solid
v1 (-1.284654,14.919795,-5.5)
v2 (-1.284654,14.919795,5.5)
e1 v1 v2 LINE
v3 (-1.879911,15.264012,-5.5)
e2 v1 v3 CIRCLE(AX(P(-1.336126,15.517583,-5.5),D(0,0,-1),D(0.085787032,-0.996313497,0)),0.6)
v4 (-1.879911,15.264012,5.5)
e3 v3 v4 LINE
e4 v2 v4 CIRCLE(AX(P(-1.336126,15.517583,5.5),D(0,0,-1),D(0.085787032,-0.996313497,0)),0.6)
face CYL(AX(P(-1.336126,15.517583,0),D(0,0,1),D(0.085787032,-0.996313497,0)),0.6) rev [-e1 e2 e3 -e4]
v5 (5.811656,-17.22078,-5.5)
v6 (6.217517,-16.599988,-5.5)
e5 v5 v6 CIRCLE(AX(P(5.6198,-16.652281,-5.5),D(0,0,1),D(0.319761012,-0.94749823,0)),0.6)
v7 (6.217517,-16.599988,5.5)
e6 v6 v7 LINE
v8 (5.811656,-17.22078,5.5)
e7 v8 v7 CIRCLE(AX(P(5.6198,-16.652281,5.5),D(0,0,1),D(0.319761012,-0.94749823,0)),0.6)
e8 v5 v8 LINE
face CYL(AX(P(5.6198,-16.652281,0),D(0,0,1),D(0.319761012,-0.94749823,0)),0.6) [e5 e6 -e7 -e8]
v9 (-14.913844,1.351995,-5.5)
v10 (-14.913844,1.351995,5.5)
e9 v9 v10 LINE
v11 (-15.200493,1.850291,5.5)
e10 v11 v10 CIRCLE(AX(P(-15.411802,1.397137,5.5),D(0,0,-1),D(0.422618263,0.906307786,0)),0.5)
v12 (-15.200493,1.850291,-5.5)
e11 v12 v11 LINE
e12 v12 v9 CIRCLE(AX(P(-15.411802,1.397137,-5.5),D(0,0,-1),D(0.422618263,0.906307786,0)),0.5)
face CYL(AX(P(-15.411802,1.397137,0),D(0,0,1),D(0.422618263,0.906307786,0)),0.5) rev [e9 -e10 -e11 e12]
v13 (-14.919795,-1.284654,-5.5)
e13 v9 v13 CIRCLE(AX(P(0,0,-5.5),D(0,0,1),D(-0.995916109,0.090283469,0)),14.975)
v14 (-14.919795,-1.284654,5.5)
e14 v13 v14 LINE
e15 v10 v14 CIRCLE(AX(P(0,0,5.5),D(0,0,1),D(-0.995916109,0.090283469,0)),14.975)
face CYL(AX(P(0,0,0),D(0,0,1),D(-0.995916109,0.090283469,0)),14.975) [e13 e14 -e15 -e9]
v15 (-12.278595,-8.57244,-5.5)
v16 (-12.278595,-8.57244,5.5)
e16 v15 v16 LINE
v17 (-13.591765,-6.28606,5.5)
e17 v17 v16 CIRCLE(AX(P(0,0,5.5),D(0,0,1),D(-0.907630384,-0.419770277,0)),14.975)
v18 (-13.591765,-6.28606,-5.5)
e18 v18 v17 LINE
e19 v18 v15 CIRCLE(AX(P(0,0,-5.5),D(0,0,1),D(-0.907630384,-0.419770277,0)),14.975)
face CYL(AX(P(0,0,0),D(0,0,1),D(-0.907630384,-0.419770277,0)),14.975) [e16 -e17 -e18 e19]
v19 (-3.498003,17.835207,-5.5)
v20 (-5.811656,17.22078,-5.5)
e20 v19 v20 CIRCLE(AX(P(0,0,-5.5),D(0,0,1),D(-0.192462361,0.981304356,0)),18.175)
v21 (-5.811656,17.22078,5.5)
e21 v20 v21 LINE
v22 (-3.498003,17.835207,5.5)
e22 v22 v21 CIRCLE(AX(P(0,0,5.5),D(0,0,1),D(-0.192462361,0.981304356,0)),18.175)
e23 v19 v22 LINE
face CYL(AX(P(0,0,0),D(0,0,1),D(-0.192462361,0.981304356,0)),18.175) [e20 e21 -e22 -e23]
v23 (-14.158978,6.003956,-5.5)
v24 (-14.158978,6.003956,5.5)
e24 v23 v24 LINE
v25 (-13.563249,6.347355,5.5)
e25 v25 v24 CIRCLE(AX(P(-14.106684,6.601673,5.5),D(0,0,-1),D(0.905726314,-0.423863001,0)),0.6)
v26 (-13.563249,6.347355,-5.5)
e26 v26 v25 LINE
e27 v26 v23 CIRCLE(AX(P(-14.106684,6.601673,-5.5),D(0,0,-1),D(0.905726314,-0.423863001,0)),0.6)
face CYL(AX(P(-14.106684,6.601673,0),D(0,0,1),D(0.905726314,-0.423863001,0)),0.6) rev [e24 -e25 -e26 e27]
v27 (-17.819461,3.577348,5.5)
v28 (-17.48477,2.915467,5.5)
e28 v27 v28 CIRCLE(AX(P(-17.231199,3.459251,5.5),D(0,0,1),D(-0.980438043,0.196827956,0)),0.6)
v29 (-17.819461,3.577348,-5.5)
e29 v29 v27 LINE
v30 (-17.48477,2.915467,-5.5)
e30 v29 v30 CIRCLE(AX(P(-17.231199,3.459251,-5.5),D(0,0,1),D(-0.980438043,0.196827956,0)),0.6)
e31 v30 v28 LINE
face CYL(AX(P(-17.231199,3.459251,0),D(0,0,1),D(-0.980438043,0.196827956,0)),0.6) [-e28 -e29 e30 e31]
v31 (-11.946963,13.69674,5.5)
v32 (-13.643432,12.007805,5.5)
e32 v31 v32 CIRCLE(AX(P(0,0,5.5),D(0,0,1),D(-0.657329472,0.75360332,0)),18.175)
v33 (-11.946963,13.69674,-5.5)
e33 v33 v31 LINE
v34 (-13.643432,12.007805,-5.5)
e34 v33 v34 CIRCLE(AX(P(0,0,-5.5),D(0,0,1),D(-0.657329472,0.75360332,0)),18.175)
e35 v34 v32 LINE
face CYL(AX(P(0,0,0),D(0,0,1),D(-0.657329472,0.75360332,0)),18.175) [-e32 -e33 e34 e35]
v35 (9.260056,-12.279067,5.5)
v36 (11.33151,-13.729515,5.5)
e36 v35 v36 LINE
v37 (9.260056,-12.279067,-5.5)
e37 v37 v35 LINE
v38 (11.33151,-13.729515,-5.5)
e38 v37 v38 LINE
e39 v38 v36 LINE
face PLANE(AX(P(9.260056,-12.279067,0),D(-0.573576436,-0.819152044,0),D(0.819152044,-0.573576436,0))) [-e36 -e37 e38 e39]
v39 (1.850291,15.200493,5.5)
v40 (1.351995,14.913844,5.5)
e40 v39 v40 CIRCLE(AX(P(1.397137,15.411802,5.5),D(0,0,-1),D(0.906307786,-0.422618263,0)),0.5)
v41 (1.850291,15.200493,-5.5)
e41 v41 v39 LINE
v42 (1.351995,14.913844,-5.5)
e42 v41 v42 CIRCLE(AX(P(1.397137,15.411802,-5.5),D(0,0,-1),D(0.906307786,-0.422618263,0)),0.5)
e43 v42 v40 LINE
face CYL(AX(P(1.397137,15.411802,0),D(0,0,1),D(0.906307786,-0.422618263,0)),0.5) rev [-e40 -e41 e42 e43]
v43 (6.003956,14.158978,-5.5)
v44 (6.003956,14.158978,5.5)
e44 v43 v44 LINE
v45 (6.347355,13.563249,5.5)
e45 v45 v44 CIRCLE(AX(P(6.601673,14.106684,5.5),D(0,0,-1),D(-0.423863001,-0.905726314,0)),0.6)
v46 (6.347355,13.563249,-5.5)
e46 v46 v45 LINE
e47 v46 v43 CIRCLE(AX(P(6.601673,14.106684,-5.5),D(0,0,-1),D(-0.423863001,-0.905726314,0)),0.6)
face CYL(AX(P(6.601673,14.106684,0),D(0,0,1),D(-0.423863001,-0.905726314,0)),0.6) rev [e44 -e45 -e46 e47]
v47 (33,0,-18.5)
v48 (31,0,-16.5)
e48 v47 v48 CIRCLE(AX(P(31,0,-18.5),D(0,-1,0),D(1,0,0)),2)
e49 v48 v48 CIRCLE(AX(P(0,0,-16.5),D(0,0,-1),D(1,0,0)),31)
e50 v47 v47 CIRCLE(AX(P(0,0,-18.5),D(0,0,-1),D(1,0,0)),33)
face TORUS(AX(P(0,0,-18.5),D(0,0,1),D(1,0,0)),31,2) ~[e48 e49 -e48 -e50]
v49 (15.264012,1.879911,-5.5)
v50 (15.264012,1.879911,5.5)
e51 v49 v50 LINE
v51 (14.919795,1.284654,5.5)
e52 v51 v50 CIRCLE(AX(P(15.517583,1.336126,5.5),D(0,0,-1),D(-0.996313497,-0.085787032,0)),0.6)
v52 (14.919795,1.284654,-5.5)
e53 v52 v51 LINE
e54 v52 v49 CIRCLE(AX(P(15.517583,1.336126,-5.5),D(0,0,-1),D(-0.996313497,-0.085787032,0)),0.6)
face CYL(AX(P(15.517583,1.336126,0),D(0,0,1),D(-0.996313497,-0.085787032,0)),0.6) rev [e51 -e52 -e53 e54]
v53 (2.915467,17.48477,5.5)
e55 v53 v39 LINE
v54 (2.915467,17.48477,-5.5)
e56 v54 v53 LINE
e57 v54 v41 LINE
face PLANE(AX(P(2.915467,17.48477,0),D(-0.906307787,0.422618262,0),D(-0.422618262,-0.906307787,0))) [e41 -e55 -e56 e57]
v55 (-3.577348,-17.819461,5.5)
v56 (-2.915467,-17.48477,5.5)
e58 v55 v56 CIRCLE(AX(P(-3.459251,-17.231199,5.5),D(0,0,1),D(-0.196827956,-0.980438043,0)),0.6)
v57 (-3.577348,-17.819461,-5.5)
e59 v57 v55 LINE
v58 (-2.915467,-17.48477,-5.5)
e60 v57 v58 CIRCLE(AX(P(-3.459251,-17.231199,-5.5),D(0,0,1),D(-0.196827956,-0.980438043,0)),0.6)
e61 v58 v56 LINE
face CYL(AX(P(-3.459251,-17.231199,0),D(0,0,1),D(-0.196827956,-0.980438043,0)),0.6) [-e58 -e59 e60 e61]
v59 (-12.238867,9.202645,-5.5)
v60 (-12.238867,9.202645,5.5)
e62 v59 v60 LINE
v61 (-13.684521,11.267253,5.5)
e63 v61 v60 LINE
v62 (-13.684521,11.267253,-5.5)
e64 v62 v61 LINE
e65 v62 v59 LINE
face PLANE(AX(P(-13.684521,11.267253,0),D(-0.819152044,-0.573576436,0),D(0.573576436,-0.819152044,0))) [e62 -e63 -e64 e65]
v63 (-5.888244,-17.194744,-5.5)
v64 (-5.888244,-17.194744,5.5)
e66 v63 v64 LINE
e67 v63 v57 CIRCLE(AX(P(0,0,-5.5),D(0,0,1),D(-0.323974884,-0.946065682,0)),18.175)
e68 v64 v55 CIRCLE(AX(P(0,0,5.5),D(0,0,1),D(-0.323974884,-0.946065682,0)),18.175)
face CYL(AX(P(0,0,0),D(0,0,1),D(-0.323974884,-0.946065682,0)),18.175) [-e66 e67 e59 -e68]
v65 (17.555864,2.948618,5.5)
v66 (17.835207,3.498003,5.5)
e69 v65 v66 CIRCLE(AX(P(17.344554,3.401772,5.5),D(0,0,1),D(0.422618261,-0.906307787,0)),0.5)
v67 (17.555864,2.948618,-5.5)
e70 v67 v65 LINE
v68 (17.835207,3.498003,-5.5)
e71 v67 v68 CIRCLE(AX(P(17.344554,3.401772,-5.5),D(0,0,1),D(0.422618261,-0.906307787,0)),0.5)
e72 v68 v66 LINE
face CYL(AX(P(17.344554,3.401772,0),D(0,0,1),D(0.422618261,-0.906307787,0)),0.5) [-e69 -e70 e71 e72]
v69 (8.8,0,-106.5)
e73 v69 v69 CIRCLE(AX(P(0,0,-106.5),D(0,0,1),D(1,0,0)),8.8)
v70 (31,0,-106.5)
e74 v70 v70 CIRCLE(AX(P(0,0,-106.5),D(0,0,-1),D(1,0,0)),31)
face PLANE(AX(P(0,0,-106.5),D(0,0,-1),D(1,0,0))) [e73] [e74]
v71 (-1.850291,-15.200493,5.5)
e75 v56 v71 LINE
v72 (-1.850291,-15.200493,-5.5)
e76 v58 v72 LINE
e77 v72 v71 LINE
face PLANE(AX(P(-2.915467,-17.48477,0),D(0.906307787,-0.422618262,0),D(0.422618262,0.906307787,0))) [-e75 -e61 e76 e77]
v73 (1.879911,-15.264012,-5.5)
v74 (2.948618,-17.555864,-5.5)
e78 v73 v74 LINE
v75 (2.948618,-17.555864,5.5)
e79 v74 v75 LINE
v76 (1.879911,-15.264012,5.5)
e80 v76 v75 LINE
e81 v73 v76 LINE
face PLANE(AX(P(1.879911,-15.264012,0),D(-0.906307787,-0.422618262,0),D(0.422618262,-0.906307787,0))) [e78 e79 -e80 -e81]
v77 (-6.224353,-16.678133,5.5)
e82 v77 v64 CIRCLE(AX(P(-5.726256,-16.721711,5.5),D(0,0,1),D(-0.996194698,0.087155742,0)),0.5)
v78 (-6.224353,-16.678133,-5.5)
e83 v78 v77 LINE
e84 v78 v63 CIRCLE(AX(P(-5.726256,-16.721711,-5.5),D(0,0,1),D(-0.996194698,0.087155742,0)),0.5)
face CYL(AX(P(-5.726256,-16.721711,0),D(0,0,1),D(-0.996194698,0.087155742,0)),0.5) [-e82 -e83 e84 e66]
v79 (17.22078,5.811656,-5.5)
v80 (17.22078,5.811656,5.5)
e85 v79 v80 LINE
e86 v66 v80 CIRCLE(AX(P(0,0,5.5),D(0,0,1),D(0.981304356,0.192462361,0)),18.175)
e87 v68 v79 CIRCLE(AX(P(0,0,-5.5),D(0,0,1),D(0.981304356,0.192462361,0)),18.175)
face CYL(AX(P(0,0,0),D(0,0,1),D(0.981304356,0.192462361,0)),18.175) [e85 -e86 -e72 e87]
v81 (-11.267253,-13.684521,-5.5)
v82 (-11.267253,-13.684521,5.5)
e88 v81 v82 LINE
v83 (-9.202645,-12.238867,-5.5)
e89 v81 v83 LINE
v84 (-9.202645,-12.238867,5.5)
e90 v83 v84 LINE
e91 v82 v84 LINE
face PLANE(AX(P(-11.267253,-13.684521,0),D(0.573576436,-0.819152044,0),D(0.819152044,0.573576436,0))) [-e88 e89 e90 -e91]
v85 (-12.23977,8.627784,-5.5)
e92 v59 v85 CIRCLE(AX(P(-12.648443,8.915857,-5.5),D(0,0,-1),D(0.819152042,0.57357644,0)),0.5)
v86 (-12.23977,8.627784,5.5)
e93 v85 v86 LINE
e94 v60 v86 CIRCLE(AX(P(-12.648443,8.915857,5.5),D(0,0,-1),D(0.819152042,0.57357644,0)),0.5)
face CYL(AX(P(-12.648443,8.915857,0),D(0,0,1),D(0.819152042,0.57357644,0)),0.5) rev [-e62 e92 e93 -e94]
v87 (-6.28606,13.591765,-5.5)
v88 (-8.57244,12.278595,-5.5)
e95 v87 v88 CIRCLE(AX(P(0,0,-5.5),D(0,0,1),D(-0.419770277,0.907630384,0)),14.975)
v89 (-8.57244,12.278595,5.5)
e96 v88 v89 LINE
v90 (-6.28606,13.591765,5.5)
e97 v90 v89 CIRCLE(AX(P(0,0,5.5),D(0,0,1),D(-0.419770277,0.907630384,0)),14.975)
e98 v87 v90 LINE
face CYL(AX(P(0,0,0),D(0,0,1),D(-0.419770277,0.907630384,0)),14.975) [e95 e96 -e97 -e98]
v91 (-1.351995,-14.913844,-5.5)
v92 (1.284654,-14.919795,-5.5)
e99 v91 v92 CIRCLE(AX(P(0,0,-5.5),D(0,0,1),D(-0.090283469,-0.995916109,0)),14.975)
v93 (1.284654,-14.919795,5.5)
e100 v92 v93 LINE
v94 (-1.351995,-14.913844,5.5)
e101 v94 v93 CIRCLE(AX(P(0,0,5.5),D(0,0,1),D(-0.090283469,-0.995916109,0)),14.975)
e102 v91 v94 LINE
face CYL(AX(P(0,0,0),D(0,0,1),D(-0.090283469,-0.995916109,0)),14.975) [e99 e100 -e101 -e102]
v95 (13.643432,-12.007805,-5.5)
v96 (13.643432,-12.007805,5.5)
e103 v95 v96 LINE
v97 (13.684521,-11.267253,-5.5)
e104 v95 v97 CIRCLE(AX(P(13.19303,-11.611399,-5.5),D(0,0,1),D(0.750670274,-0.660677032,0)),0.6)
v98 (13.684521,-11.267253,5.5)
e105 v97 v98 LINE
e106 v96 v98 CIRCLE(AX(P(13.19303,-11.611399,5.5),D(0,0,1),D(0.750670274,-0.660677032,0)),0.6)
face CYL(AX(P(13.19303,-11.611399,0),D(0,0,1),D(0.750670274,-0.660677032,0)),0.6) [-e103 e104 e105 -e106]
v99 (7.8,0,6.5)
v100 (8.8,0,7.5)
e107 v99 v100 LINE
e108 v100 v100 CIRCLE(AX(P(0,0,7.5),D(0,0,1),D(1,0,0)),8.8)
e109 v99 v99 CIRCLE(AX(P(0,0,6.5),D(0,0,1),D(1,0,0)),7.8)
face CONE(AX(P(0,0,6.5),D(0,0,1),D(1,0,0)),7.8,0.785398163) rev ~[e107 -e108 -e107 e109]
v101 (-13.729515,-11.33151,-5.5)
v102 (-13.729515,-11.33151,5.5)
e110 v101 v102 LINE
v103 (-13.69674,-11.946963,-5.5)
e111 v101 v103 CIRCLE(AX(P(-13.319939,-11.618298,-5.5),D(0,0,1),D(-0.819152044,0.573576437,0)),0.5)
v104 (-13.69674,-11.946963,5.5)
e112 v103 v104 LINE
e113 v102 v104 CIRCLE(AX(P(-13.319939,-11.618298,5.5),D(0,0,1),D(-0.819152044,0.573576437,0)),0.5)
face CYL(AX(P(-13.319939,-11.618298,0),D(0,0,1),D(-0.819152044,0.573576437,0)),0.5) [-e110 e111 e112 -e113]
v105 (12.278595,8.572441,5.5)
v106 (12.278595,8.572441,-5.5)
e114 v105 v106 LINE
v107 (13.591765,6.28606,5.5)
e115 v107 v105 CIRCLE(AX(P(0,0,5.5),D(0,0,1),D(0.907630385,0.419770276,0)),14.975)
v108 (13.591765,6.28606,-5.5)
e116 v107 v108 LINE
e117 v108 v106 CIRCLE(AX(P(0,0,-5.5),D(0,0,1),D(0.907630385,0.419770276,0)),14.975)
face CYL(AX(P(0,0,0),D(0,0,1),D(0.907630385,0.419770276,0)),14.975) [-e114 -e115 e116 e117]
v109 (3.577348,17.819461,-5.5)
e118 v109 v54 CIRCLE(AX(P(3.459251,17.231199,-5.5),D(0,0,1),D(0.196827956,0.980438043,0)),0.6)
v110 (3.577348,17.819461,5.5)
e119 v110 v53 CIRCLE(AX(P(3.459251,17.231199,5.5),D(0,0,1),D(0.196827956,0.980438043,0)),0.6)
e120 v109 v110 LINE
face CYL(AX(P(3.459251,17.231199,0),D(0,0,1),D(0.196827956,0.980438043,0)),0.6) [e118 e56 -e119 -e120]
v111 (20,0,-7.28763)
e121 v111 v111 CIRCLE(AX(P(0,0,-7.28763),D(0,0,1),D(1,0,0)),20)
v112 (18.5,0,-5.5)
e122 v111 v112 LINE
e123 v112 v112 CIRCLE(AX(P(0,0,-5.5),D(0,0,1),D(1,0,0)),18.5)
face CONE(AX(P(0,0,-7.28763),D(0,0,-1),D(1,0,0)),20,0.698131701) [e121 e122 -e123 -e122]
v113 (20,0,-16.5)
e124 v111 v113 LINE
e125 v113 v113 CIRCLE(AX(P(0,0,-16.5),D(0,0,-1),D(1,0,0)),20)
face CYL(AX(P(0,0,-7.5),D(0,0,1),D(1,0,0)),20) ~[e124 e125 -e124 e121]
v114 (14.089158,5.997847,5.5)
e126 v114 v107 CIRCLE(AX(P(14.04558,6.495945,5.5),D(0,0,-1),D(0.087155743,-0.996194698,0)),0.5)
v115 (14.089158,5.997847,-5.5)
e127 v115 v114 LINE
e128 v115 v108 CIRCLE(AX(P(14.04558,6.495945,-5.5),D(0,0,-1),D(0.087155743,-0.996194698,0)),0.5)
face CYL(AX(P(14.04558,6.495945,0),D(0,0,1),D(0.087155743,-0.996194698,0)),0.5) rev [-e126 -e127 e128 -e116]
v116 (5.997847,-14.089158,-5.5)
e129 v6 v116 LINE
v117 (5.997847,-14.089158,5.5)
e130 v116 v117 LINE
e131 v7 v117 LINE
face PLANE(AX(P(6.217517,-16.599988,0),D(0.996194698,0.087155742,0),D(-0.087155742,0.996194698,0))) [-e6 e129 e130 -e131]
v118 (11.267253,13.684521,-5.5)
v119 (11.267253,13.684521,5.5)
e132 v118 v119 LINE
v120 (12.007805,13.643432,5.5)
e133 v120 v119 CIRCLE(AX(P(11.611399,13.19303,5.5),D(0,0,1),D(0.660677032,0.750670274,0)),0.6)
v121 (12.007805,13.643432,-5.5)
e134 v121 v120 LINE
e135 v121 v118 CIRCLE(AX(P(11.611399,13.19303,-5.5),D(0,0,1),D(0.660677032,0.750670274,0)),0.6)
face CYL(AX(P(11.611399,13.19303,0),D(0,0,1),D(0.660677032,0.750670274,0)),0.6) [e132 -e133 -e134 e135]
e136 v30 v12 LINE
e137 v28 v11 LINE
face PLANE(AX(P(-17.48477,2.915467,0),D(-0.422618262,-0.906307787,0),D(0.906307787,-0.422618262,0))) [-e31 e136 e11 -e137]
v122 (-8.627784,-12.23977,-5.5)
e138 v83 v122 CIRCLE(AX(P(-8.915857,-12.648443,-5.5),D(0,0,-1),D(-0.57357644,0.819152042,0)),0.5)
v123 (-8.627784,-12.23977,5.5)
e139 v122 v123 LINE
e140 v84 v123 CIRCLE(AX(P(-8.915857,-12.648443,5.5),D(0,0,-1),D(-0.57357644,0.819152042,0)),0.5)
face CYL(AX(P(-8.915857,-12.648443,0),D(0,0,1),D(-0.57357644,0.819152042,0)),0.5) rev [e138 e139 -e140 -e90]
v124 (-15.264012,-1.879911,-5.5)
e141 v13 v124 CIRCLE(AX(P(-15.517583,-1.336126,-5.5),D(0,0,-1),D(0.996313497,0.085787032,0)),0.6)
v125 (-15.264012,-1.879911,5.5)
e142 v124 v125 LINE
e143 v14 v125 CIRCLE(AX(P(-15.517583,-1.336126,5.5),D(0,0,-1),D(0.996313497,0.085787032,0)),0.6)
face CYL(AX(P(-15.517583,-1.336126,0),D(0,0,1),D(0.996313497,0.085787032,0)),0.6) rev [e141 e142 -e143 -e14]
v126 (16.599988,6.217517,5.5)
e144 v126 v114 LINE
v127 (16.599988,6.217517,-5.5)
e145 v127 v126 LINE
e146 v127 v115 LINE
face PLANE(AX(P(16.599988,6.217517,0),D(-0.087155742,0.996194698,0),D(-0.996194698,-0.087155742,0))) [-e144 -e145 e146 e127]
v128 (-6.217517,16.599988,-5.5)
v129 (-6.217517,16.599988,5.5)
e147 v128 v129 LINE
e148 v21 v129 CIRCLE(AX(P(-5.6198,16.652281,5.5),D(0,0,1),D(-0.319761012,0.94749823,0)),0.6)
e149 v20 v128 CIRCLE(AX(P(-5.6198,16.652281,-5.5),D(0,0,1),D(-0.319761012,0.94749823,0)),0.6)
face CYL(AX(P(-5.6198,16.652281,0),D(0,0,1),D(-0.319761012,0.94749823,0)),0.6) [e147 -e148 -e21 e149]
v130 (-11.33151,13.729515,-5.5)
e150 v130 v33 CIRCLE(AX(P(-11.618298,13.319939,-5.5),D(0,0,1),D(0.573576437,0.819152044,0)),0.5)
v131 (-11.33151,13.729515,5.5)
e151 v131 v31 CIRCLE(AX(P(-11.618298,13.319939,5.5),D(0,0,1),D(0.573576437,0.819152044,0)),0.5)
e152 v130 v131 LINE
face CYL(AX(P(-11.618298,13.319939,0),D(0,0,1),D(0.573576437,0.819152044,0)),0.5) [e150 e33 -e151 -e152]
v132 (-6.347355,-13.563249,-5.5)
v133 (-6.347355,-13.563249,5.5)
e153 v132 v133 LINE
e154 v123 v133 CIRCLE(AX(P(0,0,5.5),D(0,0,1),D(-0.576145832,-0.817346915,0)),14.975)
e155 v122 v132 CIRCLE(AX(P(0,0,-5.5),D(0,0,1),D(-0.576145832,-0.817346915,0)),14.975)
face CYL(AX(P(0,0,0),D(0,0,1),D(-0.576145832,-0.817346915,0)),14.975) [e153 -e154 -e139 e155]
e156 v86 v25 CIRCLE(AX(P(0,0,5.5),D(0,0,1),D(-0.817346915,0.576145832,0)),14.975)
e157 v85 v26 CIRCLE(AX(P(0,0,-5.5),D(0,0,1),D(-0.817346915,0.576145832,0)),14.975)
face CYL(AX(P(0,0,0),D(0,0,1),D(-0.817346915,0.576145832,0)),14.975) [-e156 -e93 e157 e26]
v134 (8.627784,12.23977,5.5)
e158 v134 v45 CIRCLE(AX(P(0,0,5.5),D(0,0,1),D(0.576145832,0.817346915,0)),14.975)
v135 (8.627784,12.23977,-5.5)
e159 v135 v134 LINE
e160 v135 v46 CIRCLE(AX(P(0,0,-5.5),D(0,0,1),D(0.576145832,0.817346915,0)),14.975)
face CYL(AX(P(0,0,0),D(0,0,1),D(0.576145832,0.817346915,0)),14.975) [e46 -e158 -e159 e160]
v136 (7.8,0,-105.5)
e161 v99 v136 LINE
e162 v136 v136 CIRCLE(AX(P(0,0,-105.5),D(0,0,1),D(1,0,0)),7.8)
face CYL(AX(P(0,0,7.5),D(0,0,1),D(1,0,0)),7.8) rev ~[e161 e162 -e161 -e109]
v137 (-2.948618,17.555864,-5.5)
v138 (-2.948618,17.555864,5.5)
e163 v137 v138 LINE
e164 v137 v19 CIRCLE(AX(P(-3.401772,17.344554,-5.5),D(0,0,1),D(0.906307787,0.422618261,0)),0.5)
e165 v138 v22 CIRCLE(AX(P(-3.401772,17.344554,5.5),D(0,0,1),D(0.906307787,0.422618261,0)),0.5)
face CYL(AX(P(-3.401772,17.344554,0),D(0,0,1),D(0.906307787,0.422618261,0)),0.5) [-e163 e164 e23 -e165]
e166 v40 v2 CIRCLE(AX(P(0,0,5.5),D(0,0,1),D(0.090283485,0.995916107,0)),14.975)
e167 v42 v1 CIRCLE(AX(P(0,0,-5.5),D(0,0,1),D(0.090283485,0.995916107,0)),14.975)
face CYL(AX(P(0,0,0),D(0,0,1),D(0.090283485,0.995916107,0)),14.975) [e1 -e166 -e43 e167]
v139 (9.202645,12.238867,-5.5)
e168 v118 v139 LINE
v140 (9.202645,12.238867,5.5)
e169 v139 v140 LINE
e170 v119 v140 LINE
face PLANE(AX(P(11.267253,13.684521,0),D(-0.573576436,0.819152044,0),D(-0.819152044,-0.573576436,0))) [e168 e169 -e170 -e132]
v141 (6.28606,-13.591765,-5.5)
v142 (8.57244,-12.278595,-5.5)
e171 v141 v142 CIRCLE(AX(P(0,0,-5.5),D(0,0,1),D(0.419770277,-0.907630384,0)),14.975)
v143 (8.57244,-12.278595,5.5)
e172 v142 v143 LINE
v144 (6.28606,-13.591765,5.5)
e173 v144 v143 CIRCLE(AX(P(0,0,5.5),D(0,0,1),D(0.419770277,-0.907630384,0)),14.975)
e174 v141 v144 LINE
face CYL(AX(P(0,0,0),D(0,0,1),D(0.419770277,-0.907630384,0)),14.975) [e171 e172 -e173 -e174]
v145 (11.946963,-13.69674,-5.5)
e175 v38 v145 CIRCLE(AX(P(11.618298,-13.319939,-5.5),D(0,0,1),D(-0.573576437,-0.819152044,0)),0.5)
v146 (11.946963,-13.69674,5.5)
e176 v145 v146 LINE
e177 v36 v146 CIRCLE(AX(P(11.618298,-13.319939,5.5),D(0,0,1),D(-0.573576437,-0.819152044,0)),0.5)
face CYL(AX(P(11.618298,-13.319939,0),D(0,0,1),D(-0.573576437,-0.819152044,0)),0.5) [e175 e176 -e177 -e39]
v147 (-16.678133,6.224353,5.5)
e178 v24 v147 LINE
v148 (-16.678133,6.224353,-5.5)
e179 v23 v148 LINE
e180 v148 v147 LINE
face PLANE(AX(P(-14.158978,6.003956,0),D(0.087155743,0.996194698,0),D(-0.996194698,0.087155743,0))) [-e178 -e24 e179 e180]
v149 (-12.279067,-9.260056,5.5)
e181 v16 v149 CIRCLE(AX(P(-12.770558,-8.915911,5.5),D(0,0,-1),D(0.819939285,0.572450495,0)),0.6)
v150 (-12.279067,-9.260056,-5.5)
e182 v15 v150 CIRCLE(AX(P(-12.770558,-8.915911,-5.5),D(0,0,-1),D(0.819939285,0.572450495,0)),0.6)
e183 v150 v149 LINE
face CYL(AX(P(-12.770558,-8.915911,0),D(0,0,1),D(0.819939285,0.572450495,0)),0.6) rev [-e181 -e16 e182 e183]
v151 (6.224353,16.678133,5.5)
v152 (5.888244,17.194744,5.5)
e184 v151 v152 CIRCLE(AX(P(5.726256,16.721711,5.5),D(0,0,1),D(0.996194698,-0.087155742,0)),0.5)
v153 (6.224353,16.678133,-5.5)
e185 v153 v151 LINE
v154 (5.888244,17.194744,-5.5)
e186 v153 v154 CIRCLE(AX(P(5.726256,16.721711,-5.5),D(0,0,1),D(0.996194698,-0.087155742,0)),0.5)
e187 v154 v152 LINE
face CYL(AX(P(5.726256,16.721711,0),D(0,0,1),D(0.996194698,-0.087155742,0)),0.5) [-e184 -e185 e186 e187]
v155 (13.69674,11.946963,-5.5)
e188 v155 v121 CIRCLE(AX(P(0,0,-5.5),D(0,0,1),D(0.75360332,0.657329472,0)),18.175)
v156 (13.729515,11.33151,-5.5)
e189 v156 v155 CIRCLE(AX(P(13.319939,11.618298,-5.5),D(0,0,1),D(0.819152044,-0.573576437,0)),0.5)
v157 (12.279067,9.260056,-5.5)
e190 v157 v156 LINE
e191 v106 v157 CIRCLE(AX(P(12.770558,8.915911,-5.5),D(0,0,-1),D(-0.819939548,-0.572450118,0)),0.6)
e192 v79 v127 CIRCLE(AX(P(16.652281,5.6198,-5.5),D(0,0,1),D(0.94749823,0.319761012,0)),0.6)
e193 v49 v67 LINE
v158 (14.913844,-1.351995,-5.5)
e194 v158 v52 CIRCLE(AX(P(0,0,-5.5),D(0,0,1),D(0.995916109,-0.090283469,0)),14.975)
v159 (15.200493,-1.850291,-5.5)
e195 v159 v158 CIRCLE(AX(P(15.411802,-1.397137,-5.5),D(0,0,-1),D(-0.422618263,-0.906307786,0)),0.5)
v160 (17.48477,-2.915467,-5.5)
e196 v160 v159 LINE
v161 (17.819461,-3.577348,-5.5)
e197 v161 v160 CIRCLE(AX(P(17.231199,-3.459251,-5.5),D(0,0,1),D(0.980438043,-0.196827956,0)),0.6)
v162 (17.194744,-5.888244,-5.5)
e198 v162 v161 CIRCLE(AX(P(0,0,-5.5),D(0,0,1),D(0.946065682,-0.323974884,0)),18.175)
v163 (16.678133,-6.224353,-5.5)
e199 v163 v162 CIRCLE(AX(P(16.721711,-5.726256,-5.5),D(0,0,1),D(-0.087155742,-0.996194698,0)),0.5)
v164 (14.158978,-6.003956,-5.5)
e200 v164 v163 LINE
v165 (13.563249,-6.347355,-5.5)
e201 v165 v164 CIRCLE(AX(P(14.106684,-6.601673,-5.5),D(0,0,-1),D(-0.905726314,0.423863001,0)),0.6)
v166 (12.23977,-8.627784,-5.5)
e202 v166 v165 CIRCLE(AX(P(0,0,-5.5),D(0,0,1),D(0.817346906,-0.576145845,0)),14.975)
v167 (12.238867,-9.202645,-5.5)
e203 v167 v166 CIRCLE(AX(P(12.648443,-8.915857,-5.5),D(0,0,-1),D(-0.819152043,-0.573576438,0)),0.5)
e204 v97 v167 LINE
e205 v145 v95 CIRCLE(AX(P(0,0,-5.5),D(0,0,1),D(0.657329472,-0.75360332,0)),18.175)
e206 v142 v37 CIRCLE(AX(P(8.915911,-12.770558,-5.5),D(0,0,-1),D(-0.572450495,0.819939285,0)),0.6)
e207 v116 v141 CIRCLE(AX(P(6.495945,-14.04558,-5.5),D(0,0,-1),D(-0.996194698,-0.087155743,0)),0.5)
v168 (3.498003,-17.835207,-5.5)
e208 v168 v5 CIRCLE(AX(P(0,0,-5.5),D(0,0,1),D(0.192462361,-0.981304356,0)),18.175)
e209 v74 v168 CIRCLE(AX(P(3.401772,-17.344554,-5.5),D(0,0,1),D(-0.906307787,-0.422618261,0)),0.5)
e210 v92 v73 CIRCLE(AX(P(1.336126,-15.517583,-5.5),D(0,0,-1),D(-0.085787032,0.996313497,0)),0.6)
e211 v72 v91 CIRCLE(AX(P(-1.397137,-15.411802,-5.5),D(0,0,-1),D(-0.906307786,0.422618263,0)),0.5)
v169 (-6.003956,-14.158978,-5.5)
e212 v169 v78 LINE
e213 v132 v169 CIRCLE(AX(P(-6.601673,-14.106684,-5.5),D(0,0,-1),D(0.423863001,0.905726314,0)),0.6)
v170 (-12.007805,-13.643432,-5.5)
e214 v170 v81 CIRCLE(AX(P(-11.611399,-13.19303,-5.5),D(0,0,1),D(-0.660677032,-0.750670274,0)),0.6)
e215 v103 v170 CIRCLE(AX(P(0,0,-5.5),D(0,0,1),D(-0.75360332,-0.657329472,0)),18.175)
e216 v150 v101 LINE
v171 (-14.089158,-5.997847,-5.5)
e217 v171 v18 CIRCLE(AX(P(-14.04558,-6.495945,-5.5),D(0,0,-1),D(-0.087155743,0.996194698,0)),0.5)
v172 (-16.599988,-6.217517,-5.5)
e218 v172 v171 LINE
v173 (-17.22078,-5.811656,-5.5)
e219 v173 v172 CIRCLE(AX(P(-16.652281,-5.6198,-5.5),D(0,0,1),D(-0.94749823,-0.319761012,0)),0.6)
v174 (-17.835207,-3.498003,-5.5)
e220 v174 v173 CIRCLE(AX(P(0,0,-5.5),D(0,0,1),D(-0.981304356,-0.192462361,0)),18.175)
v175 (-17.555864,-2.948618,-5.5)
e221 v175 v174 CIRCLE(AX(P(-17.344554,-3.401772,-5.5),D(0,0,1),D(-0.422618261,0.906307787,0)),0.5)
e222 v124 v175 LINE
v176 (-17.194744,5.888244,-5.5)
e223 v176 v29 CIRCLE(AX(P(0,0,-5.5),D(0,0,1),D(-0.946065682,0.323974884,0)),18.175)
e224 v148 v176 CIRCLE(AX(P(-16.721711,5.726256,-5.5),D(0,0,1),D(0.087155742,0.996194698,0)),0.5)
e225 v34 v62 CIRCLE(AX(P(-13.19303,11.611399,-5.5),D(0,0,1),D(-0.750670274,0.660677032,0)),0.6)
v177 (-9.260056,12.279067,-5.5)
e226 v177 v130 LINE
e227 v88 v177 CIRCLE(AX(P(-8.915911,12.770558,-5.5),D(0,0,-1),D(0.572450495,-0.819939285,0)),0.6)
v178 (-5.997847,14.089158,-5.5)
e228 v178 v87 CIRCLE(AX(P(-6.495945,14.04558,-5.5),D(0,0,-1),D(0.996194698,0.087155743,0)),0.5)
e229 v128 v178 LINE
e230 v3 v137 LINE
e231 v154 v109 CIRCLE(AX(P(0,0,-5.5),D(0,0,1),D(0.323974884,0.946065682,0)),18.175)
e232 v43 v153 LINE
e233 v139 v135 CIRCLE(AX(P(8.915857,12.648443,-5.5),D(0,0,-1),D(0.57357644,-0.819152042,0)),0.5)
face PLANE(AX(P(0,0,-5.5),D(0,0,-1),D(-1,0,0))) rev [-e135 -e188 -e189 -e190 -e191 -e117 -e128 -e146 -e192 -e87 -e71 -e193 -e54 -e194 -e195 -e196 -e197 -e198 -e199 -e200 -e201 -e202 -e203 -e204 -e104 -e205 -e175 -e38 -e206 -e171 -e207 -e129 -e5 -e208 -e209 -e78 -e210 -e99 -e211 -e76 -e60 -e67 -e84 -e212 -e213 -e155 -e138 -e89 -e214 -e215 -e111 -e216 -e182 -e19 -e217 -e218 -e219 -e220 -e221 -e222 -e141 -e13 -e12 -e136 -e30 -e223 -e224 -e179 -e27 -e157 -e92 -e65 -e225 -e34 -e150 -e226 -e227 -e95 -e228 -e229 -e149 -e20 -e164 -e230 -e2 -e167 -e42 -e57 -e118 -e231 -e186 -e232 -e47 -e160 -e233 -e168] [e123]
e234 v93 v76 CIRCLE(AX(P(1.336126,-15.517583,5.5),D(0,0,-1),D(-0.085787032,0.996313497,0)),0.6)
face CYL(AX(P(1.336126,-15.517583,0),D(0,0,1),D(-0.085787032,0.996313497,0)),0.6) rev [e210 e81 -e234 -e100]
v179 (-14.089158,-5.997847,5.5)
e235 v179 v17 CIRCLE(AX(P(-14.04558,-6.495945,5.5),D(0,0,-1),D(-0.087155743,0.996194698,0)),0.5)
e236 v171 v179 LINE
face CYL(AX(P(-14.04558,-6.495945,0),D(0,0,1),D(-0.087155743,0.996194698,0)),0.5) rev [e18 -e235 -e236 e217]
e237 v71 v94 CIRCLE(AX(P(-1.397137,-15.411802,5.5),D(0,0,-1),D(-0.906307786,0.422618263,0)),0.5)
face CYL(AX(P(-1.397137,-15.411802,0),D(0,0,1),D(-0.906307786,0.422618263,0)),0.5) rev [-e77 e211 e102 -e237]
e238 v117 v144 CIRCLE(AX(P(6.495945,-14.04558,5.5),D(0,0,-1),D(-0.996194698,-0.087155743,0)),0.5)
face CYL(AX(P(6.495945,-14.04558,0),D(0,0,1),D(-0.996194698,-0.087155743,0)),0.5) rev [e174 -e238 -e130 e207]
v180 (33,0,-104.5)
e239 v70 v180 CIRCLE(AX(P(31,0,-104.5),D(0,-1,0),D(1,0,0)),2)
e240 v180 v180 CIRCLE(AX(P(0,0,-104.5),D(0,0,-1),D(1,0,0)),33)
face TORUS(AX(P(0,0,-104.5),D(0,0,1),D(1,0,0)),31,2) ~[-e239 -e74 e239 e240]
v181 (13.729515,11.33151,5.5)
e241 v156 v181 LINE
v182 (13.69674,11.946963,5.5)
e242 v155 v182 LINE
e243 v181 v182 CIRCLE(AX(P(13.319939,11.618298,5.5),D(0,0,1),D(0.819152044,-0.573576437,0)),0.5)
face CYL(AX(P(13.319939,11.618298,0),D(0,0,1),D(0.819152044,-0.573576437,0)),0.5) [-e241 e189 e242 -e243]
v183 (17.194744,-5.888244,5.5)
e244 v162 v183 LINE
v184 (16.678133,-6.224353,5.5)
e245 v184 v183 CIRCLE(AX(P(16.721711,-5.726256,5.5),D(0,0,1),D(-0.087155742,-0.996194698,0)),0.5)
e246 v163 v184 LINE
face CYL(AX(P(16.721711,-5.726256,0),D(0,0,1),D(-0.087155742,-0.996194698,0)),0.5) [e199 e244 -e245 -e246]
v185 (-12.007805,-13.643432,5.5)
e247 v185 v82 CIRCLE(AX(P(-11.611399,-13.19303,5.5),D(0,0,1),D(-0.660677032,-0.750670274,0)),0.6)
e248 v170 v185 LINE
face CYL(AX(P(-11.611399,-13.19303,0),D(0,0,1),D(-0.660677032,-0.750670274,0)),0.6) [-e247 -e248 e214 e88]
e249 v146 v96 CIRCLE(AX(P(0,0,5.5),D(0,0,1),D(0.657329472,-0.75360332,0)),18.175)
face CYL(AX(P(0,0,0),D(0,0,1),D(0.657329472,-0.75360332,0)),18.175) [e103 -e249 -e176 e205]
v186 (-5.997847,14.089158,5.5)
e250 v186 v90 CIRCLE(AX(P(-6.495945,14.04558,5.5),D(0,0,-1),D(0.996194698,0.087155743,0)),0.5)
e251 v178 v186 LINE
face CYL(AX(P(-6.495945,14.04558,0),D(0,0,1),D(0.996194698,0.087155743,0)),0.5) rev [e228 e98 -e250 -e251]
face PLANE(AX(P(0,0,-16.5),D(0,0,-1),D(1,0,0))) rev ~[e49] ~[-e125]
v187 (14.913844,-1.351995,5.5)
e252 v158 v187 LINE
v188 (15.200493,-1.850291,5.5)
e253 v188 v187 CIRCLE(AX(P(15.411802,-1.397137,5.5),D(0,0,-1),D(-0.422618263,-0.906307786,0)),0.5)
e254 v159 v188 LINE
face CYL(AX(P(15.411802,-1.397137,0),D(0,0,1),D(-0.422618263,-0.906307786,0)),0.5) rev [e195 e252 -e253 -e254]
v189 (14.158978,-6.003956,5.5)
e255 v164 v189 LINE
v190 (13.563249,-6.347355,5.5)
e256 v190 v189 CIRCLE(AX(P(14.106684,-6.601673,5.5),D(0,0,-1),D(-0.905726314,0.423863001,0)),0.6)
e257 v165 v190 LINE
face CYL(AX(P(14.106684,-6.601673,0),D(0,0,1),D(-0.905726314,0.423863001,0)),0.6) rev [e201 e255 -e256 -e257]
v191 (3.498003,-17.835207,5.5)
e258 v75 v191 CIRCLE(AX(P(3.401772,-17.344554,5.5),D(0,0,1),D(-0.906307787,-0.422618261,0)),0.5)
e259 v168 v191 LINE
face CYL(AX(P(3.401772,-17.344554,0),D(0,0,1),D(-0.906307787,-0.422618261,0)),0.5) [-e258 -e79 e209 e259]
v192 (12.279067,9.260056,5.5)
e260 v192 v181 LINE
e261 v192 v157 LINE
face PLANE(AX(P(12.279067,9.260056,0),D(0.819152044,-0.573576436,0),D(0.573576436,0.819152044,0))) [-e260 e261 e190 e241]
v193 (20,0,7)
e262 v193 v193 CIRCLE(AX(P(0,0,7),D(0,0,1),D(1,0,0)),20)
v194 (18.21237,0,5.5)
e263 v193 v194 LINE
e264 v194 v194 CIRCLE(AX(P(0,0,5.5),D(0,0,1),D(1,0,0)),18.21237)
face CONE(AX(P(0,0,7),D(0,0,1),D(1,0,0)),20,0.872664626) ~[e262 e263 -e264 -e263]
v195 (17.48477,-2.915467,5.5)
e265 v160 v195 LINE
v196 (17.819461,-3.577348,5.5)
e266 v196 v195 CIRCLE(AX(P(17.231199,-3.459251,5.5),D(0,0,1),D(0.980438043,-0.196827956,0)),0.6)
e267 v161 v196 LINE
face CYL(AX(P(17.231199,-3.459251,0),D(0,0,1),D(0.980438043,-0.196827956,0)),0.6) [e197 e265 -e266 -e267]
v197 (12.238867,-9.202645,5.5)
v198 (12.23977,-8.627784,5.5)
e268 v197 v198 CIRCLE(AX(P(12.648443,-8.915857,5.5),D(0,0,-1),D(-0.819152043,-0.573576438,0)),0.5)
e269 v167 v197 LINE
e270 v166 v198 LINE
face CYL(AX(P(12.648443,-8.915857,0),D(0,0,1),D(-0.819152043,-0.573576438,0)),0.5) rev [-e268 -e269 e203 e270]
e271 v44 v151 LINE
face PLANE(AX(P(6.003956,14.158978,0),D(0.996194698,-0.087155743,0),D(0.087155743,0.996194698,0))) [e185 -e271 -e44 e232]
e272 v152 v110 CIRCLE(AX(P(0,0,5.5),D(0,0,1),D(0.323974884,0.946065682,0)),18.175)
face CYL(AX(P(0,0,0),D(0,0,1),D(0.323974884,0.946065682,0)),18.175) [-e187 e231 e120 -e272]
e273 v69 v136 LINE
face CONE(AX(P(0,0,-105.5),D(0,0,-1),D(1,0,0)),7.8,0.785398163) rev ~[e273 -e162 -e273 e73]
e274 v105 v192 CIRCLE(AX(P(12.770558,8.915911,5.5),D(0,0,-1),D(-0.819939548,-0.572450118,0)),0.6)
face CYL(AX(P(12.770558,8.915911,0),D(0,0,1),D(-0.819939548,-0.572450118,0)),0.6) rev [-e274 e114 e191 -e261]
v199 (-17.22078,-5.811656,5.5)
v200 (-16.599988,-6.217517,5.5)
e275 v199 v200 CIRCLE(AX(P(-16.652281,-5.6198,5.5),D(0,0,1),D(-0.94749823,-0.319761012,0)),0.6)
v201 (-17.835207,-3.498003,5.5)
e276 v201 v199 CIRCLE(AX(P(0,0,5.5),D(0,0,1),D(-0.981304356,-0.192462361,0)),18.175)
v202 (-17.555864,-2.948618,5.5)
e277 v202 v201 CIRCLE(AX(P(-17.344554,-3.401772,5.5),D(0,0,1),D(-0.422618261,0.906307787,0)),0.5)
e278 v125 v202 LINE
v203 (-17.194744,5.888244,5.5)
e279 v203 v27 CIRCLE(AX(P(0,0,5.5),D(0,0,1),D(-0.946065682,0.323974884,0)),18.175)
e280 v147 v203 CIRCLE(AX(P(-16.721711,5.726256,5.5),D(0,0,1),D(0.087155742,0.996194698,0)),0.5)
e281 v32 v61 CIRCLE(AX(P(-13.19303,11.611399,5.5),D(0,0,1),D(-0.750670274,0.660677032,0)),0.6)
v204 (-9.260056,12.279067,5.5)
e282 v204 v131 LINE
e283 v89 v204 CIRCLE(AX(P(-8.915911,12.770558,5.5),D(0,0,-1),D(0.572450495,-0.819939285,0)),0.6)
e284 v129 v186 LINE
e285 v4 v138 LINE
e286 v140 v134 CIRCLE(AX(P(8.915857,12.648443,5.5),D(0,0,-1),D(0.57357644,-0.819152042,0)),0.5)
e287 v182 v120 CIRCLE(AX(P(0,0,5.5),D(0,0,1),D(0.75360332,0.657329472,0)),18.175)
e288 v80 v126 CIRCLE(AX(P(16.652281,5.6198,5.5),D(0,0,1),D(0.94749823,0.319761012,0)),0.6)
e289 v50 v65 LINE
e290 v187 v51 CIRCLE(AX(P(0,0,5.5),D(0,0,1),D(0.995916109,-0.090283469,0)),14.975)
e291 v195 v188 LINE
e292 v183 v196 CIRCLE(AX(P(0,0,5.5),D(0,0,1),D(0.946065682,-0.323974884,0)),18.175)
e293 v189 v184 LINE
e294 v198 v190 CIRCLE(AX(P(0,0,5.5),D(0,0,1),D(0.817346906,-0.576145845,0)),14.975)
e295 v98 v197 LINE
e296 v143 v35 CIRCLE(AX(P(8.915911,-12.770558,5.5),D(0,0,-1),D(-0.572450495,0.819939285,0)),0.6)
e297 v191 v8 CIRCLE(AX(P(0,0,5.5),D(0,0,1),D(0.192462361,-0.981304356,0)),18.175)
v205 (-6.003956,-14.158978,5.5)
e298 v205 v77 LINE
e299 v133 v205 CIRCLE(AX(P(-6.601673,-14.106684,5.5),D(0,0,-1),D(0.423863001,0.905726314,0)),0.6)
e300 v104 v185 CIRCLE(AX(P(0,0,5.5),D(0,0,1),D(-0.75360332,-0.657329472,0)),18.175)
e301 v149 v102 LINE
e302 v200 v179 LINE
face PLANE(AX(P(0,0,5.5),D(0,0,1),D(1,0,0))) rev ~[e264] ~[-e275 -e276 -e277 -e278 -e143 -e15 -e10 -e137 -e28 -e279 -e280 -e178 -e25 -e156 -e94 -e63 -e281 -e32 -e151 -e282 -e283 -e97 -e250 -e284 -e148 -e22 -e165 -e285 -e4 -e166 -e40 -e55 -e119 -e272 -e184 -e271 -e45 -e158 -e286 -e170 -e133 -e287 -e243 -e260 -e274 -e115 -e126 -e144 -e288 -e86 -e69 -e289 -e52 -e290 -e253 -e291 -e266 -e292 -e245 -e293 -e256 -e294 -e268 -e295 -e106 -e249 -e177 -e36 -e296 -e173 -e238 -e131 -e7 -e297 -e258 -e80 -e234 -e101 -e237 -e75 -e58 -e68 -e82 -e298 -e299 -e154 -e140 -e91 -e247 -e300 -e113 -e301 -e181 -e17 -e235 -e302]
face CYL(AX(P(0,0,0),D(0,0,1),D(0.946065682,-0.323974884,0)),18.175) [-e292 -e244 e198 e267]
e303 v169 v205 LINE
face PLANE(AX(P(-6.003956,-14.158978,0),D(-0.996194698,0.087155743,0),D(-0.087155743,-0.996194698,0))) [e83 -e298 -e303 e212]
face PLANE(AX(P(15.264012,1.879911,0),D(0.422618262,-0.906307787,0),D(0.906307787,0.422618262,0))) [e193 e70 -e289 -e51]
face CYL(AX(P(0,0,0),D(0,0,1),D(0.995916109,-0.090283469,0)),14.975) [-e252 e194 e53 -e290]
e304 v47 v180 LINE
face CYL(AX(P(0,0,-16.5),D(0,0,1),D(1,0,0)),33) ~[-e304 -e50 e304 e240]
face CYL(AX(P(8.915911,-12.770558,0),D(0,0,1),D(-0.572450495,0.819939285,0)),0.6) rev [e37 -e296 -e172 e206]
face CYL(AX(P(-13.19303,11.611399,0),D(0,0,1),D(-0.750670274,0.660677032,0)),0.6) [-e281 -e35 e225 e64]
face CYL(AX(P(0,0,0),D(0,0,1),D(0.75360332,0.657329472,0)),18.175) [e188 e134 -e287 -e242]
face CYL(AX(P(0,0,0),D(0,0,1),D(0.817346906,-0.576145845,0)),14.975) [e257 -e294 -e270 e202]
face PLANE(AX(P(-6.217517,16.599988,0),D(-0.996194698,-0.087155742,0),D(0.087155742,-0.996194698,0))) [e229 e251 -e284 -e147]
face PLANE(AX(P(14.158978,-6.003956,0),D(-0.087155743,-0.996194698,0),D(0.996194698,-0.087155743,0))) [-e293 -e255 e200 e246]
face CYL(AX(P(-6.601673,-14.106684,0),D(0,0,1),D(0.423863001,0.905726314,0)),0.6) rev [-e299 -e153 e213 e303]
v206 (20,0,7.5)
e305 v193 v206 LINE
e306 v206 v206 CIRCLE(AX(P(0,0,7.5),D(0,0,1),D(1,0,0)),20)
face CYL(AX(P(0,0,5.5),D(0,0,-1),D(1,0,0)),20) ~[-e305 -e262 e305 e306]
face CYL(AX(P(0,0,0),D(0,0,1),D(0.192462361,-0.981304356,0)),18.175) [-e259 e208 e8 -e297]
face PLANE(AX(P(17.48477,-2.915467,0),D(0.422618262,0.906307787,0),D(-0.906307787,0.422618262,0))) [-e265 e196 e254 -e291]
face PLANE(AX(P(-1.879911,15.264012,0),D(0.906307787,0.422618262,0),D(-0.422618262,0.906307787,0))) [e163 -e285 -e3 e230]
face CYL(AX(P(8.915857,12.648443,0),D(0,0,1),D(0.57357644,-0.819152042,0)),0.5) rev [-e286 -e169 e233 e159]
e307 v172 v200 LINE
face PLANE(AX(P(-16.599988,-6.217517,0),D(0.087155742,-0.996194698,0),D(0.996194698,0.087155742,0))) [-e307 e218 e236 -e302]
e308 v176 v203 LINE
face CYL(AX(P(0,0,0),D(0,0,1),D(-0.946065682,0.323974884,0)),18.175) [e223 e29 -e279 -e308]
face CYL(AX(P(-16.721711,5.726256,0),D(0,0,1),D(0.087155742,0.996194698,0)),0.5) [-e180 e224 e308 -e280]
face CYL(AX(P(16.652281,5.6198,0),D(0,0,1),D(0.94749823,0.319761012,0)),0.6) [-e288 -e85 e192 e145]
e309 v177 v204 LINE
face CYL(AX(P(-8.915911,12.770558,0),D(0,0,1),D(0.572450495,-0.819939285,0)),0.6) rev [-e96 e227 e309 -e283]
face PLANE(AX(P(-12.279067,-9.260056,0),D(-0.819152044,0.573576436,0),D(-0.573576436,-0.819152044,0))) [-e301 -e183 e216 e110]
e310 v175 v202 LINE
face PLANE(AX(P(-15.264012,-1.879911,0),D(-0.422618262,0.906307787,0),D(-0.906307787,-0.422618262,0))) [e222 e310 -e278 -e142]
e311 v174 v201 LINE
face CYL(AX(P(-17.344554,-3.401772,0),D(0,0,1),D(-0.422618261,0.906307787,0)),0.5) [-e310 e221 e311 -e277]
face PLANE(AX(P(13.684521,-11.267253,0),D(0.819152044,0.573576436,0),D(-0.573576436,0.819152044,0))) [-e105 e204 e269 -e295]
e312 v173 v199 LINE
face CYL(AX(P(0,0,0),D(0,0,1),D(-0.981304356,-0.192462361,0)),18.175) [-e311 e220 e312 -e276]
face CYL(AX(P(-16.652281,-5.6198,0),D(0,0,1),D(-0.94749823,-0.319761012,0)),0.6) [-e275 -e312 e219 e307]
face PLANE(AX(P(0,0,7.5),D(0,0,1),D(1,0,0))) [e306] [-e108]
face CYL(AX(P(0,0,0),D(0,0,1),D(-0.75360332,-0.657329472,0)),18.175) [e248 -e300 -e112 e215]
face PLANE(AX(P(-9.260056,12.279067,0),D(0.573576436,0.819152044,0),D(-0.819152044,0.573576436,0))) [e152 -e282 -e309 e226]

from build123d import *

# Parameters (mm, degrees)
EXTRUDE_1_DEPTH             = 5.5
SKETCH_2_R                  = 20
EXTRUDE_2_DEPTH             = 2
CHAMFER_1_SIZE              = 1.5
CHAMFER_1_SIZE2             = 1.787630389
CHAMFER_1_OF_MIRROR_1_SIZE2 = 1.5
CHAMFER_1_OF_MIRROR_1_SIZE  = 1.787630389
SKETCH_3_R                  = 3.4
CUT_EXTRUDE_1_DEPTH         = 30
SKETCH_8_R                  = 20
EXTRUDE_3_DEPTH             = 9
SKETCH_11_R                 = 33
EXTRUDE_4_DEPTH             = 90
SKETCH_10_R                 = 7.8
CUT_EXTRUDE_2_DEPTH         = 191
CHAMFER_2_SIZE              = 1
FILLET_1_R                  = 2


with BuildPart() as part:
    # 스케치1 → 보스-돌출1 (new, symmetric)
    with BuildSketch(Plane.XY):
        with BuildLine():
            Line((12.279067203, 9.260056493), (13.72951471, 11.331510209))
            ThreePointArc((13.72951471, 11.331510209), (13.819231237, 11.644886966), (13.696740348, 11.946963163))
            ThreePointArc((13.696740348, 11.946963163), (12.880233507, 12.823034344), (12.007805037, 13.643432236))
            ThreePointArc((12.007805037, 13.643432236), (11.644638313, 13.792108644), (11.267252957, 13.684521298))
            Line((11.267252957, 13.684521298), (9.202645163, 12.238867358))
            ThreePointArc((9.202645163, 12.238867358), (8.915071795, 12.148443996), (8.627783828, 12.239770064))
            ThreePointArc((8.627783828, 12.239770064), (7.516754209, 12.951796446), (6.347354905, 13.563248531))
            ThreePointArc((6.347354905, 13.563248531), (6.081851507, 13.807041329), (6.003955886, 14.158977765))
            Line((6.003955886, 14.158977765), (6.224353416, 16.678133059))
            ThreePointArc((6.224353416, 16.678133059), (6.145361829, 16.994383555), (5.888243509, 17.194743772))
            ThreePointArc((5.888243509, 17.194743772), (4.743092252, 17.54519025), (3.577348088, 17.81946143))
            ThreePointArc((3.577348088, 17.81946143), (3.188498275, 17.766635614), (2.915466643, 17.484769561))
            Line((2.915466643, 17.484769561), (1.850290815, 15.200492627))
            ThreePointArc((1.850290815, 15.200492627), (1.646456756, 14.978397074), (1.351995179, 14.913843704))
            ThreePointArc((1.351995179, 14.913843704), (0.033801995, 14.974961851), (-1.284653671, 14.919795238))
            ThreePointArc((-1.284653671, 14.919795238), (-1.636482757, 14.998174295), (-1.879910562, 15.26401238))
            Line((-1.879910562, 15.26401238), (-2.948618349, 17.555863625))
            ThreePointArc((-2.948618349, 17.555863625), (-3.175152318, 17.790248795), (-3.498003423, 17.835206672))
            ThreePointArc((-3.498003423, 17.835206672), (-4.664956742, 17.566126596), (-5.811656393, 17.220780324))
            ThreePointArc((-5.811656393, 17.220780324), (-6.121997301, 16.980606919), (-6.217516604, 16.599987941))
            Line((-6.217516604, 16.599987941), (-5.997847464, 14.089158172))
            ThreePointArc((-5.997847464, 14.089158172), (-6.06332522, 13.794900649), (-6.286059898, 13.591765005))
            ThreePointArc((-6.286059898, 13.591765005), (-7.458207642, 12.985598321), (-8.572440333, 12.27859486))
            ThreePointArc((-8.572440333, 12.27859486), (-8.916322788, 12.170558572), (-9.260056493, 12.279067203))
            Line((-9.260056493, 12.279067203), (-11.331510209, 13.72951471))
            ThreePointArc((-11.331510209, 13.72951471), (-11.644886966, 13.819231237), (-11.946963163, 13.696740348))
            ThreePointArc((-11.946963163, 13.696740348), (-12.823034344, 12.880233507), (-13.643432236, 12.007805037))
            ThreePointArc((-13.643432236, 12.007805037), (-13.792108644, 11.644638313), (-13.684521298, 11.267252957))
            Line((-13.684521298, 11.267252957), (-12.238867358, 9.202645163))
            ThreePointArc((-12.238867358, 9.202645163), (-12.148443996, 8.915071795), (-12.239770064, 8.627783828))
            ThreePointArc((-12.239770064, 8.627783828), (-12.951796446, 7.516754209), (-13.563248531, 6.347354905))
            ThreePointArc((-13.563248531, 6.347354905), (-13.807041329, 6.081851507), (-14.158977765, 6.003955886))
            Line((-14.158977765, 6.003955886), (-16.678133059, 6.224353416))
            ThreePointArc((-16.678133059, 6.224353416), (-16.994383555, 6.145361829), (-17.194743772, 5.888243509))
            ThreePointArc((-17.194743772, 5.888243509), (-17.54519025, 4.743092252), (-17.81946143, 3.577348088))
            ThreePointArc((-17.81946143, 3.577348088), (-17.766635614, 3.188498275), (-17.484769561, 2.915466643))
            Line((-17.484769561, 2.915466643), (-15.200492627, 1.850290815))
            ThreePointArc((-15.200492627, 1.850290815), (-14.978397015, 1.646456653), (-14.913843726, 1.351994942))
            ThreePointArc((-14.913843726, 1.351994942), (-14.974961851, 0.033801876), (-14.919795238, -1.284653671))
            ThreePointArc((-14.919795238, -1.284653671), (-14.998174295, -1.636482757), (-15.26401238, -1.879910562))
            Line((-15.26401238, -1.879910562), (-17.555863625, -2.948618349))
            ThreePointArc((-17.555863625, -2.948618349), (-17.790248795, -3.175152318), (-17.835206672, -3.498003423))
            ThreePointArc((-17.835206672, -3.498003423), (-17.566126596, -4.664956742), (-17.220780324, -5.811656393))
            ThreePointArc((-17.220780324, -5.811656393), (-16.980606919, -6.121997301), (-16.599987941, -6.217516604))
            Line((-16.599987941, -6.217516604), (-14.089158172, -5.997847464))
            ThreePointArc((-14.089158172, -5.997847464), (-13.794900649, -6.06332522), (-13.591765005, -6.286059898))
            ThreePointArc((-13.591765005, -6.286059898), (-12.985598321, -7.458207642), (-12.27859486, -8.572440333))
            ThreePointArc((-12.27859486, -8.572440333), (-12.170558572, -8.916322788), (-12.279067203, -9.260056493))
            Line((-12.279067203, -9.260056493), (-13.72951471, -11.331510209))
            ThreePointArc((-13.72951471, -11.331510209), (-13.819231237, -11.644886966), (-13.696740348, -11.946963163))
            ThreePointArc((-13.696740348, -11.946963163), (-12.880233507, -12.823034344), (-12.007805037, -13.643432236))
            ThreePointArc((-12.007805037, -13.643432236), (-11.644638313, -13.792108644), (-11.267252957, -13.684521298))
            Line((-11.267252957, -13.684521298), (-9.202645163, -12.238867358))
            ThreePointArc((-9.202645163, -12.238867358), (-8.915071795, -12.148443996), (-8.627783828, -12.239770064))
            ThreePointArc((-8.627783828, -12.239770064), (-7.516754209, -12.951796446), (-6.347354905, -13.563248531))
            ThreePointArc((-6.347354905, -13.563248531), (-6.081851507, -13.807041329), (-6.003955886, -14.158977765))
            Line((-6.003955886, -14.158977765), (-6.224353416, -16.678133059))
            ThreePointArc((-6.224353416, -16.678133059), (-6.145361829, -16.994383555), (-5.888243509, -17.194743772))
            ThreePointArc((-5.888243509, -17.194743772), (-4.743092252, -17.54519025), (-3.577348088, -17.81946143))
            ThreePointArc((-3.577348088, -17.81946143), (-3.188498275, -17.766635614), (-2.915466643, -17.484769561))
            Line((-2.915466643, -17.484769561), (-1.850290815, -15.200492627))
            ThreePointArc((-1.850290815, -15.200492627), (-1.646456653, -14.978397015), (-1.351994942, -14.913843726))
            ThreePointArc((-1.351994942, -14.913843726), (-0.033801876, -14.974961851), (1.284653671, -14.919795238))
            ThreePointArc((1.284653671, -14.919795238), (1.636482757, -14.998174295), (1.879910562, -15.26401238))
            Line((1.879910562, -15.26401238), (2.948618349, -17.555863625))
            ThreePointArc((2.948618349, -17.555863625), (3.175152318, -17.790248795), (3.498003423, -17.835206672))
            ThreePointArc((3.498003423, -17.835206672), (4.664956742, -17.566126596), (5.811656393, -17.220780324))
            ThreePointArc((5.811656393, -17.220780324), (6.121997301, -16.980606919), (6.217516604, -16.599987941))
            Line((6.217516604, -16.599987941), (5.997847464, -14.089158172))
            ThreePointArc((5.997847464, -14.089158172), (6.06332522, -13.794900649), (6.286059898, -13.591765005))
            ThreePointArc((6.286059898, -13.591765005), (7.458207642, -12.985598321), (8.572440333, -12.27859486))
            ThreePointArc((8.572440333, -12.27859486), (8.916322788, -12.170558572), (9.260056493, -12.279067203))
            Line((9.260056493, -12.279067203), (11.331510209, -13.72951471))
            ThreePointArc((11.331510209, -13.72951471), (11.644886966, -13.819231237), (11.946963163, -13.696740348))
            ThreePointArc((11.946963163, -13.696740348), (12.823034344, -12.880233507), (13.643432236, -12.007805037))
            ThreePointArc((13.643432236, -12.007805037), (13.792108644, -11.644638313), (13.684521298, -11.267252957))
            Line((13.684521298, -11.267252957), (12.238867358, -9.202645163))
            ThreePointArc((12.238867358, -9.202645163), (12.148443996, -8.915071914), (12.239769926, -8.627784023))
            ThreePointArc((12.239769926, -8.627784023), (12.951796386, -7.516754312), (13.563248531, -6.347354905))
            ThreePointArc((13.563248531, -6.347354905), (13.807041329, -6.081851507), (14.158977765, -6.003955886))
            Line((14.158977765, -6.003955886), (16.678133059, -6.224353416))
            ThreePointArc((16.678133059, -6.224353416), (16.994383555, -6.145361829), (17.194743772, -5.888243509))
            ThreePointArc((17.194743772, -5.888243509), (17.54519025, -4.743092252), (17.81946143, -3.577348088))
            ThreePointArc((17.81946143, -3.577348088), (17.766635614, -3.188498275), (17.484769561, -2.915466643))
            Line((17.484769561, -2.915466643), (15.200492627, -1.850290815))
            ThreePointArc((15.200492627, -1.850290815), (14.978397015, -1.646456653), (14.913843726, -1.351994942))
            ThreePointArc((14.913843726, -1.351994942), (14.974961851, -0.033801876), (14.919795238, 1.284653671))
            ThreePointArc((14.919795238, 1.284653671), (14.998174295, 1.636482757), (15.26401238, 1.879910562))
            Line((15.26401238, 1.879910562), (17.555863625, 2.948618349))
            ThreePointArc((17.555863625, 2.948618349), (17.790248795, 3.175152318), (17.835206672, 3.498003423))
            ThreePointArc((17.835206672, 3.498003423), (17.566126596, 4.664956742), (17.220780324, 5.811656393))
            ThreePointArc((17.220780324, 5.811656393), (16.980606919, 6.121997301), (16.599987941, 6.217516604))
            Line((16.599987941, 6.217516604), (14.089158172, 5.997847464))
            ThreePointArc((14.089158172, 5.997847464), (13.794900649, 6.06332522), (13.591765005, 6.286059898))
            ThreePointArc((13.591765005, 6.286059898), (12.985598253, 7.458207762), (12.278594702, 8.572440559))
            ThreePointArc((12.278594702, 8.572440559), (12.170558572, 8.916322926), (12.279067203, 9.260056493))
        make_face()
    extrude(amount=EXTRUDE_1_DEPTH, both=True)

    # 스케치2 → 보스-돌출2 (add)
    with BuildSketch(Plane.XY.offset(5.5)):
        Circle(SKETCH_2_R)
    extrude_2 = extrude(amount=EXTRUDE_2_DEPTH)

    # 모따기1
    chamfer_1_edges = [part.edges().sort_by_distance(p)[0] for p in [
        (-20, 0, 5.5),
    ]]
    chamfer_1_side = [part.faces().sort_by_distance(p)[0] for p in [
        (-20, 0, 6.5),
    ]]
    chamfer(chamfer_1_edges, length=CHAMFER_1_SIZE, length2=CHAMFER_1_SIZE2, reference=chamfer_1_side[0])

    # 대칭 복사1: 보스-돌출2 across plane
    add(extrude_2.mirror(Plane.XY))

    # 모따기1 of 대칭 복사1
    chamfer_1_of_mirror_1_edges = [part.edges().sort_by_distance(p)[0] for p in [
        (-20, 0, -5.5),
    ]]
    chamfer(chamfer_1_of_mirror_1_edges, length=CHAMFER_1_OF_MIRROR_1_SIZE, length2=CHAMFER_1_OF_MIRROR_1_SIZE2)

    # 스케치3 → 컷-돌출1 (cut)
    with BuildSketch(Plane(origin=(0, 0, -7.5), x_dir=(-1, 0, 0), z_dir=(0, 0, -1))):
        Circle(SKETCH_3_R)
    extrude(amount=-CUT_EXTRUDE_1_DEPTH, mode=Mode.SUBTRACT)

    # 스케치8 → 보스-돌출3 (add)
    with BuildSketch(Plane(origin=(0, 0, -7.5), x_dir=(-1, 0, 0), z_dir=(0, 0, -1))):
        with Locations(Location((0, 0, 0), (0, 0, 180))):
            Circle(SKETCH_8_R)
    extrude(amount=EXTRUDE_3_DEPTH)

    # 스케치11 → 보스-돌출4 (add)
    with BuildSketch(Plane(origin=(0, 0, -16.5), x_dir=(-1, 0, 0), z_dir=(0, 0, -1))):
        with Locations(Location((0, 0, 0), (0, 0, 180))):
            Circle(SKETCH_11_R)
    extrude(amount=EXTRUDE_4_DEPTH)

    # 스케치10 → 컷-돌출2 (cut)
    with BuildSketch(Plane.XY.offset(7.5)):
        Circle(SKETCH_10_R)
    extrude(amount=-CUT_EXTRUDE_2_DEPTH, mode=Mode.SUBTRACT)

    # 모따기2
    chamfer_2_edges = [part.edges().sort_by_distance(p)[0] for p in [
        (-7.8, 0, 7.5),
        (-7.8, 0, -106.5),
    ]]
    chamfer(chamfer_2_edges, length=CHAMFER_2_SIZE)

    # 필렛1
    fillet_1_edges = [part.edges().sort_by_distance(p)[0] for p in [
        (-33, 0, -16.5),
        (-33, 0, -106.5),
    ]]
    fillet(fillet_1_edges, radius=FILLET_1_R)


solid = part.part
